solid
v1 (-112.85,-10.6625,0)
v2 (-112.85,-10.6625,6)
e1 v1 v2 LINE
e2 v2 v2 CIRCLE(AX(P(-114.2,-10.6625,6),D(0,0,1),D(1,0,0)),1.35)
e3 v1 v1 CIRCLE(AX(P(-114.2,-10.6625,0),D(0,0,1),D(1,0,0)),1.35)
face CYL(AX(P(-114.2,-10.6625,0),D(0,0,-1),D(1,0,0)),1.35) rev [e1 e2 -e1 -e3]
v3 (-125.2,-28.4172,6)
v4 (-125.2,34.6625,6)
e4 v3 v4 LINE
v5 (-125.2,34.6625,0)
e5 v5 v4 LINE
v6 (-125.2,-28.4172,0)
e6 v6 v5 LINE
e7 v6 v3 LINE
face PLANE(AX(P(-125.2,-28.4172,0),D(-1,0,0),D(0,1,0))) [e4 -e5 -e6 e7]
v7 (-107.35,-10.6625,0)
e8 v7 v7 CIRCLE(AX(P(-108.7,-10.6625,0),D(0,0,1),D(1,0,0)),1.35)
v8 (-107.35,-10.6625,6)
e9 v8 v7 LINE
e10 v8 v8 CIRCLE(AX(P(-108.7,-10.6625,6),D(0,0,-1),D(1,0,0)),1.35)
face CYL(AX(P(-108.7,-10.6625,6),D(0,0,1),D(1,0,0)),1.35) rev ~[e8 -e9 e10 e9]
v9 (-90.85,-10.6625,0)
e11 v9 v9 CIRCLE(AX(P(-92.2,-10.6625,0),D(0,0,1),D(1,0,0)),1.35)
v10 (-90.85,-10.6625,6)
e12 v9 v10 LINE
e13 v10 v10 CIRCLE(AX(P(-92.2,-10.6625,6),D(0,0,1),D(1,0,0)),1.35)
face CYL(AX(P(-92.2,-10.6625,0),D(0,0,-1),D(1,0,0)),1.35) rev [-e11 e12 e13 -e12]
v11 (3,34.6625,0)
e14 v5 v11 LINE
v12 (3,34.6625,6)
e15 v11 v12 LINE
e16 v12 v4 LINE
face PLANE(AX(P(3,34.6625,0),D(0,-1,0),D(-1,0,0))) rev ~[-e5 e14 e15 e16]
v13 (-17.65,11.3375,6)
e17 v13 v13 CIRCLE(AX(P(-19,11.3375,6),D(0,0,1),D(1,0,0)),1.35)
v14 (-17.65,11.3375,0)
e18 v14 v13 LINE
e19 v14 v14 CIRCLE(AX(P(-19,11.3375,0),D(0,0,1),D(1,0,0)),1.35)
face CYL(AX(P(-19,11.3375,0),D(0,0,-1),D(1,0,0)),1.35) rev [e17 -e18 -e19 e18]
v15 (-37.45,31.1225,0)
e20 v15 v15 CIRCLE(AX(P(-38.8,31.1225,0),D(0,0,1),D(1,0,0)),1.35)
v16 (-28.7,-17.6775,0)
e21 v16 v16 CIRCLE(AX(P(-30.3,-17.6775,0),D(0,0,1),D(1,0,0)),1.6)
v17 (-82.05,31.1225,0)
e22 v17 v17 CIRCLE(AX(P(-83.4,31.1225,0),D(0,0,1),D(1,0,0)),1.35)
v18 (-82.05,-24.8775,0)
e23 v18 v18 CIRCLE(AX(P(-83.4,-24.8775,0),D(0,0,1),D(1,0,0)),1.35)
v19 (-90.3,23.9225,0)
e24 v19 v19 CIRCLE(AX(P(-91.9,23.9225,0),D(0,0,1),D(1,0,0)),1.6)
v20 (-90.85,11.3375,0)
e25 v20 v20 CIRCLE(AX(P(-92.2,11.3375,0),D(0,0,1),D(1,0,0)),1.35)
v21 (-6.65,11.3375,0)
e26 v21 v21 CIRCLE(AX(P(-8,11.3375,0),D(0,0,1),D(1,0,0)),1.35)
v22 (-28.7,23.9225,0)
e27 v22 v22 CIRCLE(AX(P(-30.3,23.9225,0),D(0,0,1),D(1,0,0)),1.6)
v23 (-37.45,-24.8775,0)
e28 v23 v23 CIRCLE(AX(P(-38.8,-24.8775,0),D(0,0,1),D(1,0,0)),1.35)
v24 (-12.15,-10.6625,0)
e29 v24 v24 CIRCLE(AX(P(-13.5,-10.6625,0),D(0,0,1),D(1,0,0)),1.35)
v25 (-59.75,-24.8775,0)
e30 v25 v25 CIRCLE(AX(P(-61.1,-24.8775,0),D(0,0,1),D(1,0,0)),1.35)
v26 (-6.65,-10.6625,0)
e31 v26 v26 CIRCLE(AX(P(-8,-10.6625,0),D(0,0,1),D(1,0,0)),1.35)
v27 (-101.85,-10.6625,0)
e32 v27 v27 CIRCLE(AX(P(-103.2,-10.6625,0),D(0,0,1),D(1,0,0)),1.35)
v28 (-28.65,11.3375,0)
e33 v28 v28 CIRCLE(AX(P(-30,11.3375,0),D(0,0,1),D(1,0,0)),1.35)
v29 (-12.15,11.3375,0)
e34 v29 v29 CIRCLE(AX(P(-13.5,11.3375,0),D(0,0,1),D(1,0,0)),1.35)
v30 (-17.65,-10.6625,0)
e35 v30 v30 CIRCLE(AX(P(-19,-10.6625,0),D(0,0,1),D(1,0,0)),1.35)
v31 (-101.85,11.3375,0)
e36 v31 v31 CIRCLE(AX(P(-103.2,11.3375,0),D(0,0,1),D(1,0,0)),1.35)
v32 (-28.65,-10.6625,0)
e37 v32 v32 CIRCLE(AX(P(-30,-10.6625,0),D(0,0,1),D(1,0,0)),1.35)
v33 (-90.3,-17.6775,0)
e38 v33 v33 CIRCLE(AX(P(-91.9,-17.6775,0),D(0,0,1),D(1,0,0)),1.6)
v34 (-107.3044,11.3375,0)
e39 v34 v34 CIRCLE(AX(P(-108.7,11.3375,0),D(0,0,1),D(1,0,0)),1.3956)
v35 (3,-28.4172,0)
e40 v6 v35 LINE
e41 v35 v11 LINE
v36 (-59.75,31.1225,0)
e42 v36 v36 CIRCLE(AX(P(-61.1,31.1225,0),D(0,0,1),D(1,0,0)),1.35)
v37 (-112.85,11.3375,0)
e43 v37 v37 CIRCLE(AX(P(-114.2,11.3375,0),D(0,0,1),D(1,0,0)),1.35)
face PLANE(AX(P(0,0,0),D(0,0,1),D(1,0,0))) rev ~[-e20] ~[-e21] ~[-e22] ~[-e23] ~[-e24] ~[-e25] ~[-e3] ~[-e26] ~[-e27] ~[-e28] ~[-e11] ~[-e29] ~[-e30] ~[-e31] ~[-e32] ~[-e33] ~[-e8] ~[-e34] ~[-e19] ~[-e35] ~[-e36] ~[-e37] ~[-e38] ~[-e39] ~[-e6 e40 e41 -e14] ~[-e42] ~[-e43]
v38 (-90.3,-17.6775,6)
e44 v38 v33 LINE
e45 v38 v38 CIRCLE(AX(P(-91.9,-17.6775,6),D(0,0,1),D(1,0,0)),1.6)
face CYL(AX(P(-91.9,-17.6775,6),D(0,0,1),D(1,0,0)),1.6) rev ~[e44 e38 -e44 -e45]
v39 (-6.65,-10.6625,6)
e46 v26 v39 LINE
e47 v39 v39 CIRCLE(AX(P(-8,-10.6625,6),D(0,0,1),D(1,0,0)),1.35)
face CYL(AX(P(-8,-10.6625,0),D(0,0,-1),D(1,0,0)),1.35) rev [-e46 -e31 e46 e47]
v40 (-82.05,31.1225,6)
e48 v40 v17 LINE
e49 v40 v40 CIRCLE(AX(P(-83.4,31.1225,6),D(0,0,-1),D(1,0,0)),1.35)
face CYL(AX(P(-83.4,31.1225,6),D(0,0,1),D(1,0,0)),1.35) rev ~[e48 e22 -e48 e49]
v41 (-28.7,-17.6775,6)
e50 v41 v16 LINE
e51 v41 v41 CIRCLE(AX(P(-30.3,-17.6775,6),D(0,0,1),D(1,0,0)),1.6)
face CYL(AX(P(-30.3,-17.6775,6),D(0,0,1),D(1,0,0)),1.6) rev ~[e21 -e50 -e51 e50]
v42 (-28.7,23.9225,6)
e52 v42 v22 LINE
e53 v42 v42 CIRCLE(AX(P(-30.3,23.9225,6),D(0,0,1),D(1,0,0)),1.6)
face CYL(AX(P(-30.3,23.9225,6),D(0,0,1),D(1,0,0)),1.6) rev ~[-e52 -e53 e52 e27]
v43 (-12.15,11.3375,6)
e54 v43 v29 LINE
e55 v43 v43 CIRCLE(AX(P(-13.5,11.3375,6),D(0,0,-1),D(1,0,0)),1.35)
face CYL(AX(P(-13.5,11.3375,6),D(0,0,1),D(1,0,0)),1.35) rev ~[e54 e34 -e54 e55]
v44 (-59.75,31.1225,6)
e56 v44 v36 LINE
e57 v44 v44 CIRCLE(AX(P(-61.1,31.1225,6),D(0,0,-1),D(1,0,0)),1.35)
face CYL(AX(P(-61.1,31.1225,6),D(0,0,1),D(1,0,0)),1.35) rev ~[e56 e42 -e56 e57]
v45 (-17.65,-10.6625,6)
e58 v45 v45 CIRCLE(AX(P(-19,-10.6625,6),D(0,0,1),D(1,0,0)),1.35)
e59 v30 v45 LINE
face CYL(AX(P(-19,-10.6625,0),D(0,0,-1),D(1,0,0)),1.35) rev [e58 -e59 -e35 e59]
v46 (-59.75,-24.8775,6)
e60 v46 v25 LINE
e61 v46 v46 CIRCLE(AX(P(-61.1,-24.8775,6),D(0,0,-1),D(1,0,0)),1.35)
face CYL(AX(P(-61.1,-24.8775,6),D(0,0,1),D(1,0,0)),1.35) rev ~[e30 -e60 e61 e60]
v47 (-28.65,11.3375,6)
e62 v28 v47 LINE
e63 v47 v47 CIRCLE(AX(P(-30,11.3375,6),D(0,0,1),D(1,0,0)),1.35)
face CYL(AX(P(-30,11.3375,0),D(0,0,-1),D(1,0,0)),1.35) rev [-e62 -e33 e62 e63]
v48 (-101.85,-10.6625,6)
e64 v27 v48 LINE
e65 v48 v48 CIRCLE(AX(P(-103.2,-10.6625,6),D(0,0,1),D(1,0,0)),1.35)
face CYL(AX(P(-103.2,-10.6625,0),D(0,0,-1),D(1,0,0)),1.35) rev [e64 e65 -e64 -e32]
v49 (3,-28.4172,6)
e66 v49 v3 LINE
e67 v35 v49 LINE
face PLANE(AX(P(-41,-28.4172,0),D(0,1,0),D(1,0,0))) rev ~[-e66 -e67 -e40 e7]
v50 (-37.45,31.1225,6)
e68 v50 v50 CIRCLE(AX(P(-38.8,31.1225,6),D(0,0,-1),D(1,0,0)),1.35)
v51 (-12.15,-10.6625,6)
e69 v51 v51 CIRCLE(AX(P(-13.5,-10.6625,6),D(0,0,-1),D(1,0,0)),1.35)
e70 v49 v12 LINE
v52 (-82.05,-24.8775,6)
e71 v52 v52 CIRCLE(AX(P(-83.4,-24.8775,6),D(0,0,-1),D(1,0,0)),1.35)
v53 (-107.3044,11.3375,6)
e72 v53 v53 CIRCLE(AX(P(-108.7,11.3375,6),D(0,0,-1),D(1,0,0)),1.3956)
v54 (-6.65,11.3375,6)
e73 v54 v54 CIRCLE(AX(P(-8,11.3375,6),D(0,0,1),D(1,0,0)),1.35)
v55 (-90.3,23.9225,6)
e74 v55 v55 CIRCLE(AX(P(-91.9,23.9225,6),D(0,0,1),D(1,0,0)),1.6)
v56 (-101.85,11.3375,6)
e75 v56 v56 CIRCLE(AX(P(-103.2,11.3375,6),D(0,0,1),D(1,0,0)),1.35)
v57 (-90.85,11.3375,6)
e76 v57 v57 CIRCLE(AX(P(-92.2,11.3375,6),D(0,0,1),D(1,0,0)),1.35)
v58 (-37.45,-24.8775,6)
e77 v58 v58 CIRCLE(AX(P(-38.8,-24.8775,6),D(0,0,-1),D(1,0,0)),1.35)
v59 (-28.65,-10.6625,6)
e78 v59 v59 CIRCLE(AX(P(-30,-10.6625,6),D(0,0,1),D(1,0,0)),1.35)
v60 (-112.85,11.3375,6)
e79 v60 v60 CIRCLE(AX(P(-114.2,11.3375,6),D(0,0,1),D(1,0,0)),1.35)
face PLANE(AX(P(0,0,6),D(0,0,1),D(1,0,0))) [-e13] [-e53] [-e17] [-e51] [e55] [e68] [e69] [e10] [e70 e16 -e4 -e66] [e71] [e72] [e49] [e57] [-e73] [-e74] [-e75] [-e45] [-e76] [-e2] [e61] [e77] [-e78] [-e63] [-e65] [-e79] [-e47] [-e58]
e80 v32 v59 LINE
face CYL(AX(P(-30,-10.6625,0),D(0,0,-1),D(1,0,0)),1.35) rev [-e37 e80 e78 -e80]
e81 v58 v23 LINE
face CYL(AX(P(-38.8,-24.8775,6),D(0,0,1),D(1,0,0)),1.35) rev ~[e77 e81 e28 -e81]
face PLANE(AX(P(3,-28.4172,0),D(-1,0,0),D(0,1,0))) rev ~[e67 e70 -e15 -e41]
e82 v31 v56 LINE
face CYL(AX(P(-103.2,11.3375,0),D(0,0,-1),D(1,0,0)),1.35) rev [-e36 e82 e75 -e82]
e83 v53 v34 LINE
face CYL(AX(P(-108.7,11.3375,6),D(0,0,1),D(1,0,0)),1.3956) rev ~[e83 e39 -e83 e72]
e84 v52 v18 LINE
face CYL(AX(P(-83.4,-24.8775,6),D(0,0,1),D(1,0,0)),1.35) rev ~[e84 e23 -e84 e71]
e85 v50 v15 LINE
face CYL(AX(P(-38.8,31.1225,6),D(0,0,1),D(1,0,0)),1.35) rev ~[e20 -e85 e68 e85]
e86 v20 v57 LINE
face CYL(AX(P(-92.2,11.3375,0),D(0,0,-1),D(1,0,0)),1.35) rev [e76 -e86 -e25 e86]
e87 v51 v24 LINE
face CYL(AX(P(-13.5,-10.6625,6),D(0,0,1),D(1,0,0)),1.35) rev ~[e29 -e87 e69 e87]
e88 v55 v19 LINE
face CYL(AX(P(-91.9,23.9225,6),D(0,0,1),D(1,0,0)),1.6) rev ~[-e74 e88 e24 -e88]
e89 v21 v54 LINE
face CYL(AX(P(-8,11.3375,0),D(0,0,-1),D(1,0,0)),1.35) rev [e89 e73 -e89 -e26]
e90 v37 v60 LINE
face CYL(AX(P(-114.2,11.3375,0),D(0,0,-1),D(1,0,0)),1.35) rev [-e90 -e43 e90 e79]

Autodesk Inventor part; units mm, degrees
ref_plane "YZ Plane" through (0, 0, 0) normal (1, 0, 0) x (0, 1, 0)
ref_plane "XZ Plane" through (0, 0, 0) normal (0, 1, 0) x (-1, 0, 0)
ref_plane "XY Plane" through (0, 0, 0) normal (0, 0, 1) x (1, 0, 0)
ref_plane "작업 평면2" through (0, 0, 0) normal (0, 0, 1) x (1, 0, 0)
sketch "스케치1" plane through (0, 0, 0) normal (0, 0, 1) x (1, 0, 0)
  circle A0 centre (-30, -10.6625) radius 1.35 projected
  circle A1 centre (-8, 11.3375) radius 1.35 projected
  circle A2 centre (-19, -10.6625) radius 1.35 projected
  circle A3 centre (-30, 11.3375) radius 1.35 projected
  circle A4 centre (-19, 11.3375) radius 1.35 projected
  circle A5 centre (-8, -10.6625) radius 1.35 projected
  line L0 (3, -32.6625) -> (3, 34.6625) projected
  line L1 (3, 34.6625) -> (-41, 34.6625) projected
  line L2 (-41, -32.6625) -> (-41, 34.6625) projected
  line L3 (3, -32.6625) -> (-41, -32.6625) projected
  circle A6 centre (-92.2, -10.6625) radius 1.35 projected
  circle A7 centre (-114.2, 11.3375) radius 1.35 projected
  circle A8 centre (-103.2, -10.6625) radius 1.35 projected
  circle A9 centre (-92.2, 11.3375) radius 1.35 projected
  circle A10 centre (-103.2, 11.3375) radius 1.35 projected
  circle A11 centre (-114.2, -10.6625) radius 1.35 projected
  line L4 (-125.2, -32.6625) -> (-125.2, 34.6625) projected
  line L5 (-125.2, -32.6625) -> (-81.2, -32.6625) projected
  line L6 (-81.2, -32.6625) -> (-81.2, 34.6625) projected
  line L7 (-125.2, 34.6625) -> (-81.2, 34.6625) projected
  line L8 (3, -28.4172) -> (3, 34.6625)
  line L9 (3, 34.6625) -> (-125.2, 34.6625)
  line L10 (-125.2, 34.6625) -> (-125.2, -28.4172)
  line L11 (-125.2, -28.4172) -> (3, -28.4172)
  point P0 (0, 0)
  point P1 (-41, 34.6625)
  point P2 (-125.2, -28.4172)
extrude "돌출1" add sketch "스케치1" along normal blind 6 contours L11 L2 L1 L0 | L11 L6 L9 L2 | L11 L4 L7 L6
sketch "스케치2" plane through (0, 0, 6) normal (0, 0, 1) x (1, 0, 0)
  circle A0 centre (-91.9, 23.9225) radius 1.6 projected
  circle A1 centre (-30.3, 23.9225) radius 1.6 projected
  circle A2 centre (-91.9, -17.6775) radius 1.6 projected
  circle A3 centre (-30.3, -17.6775) radius 1.6 projected
  line L0 (-26.1, 28.1225) -> (-96.1, 28.1225) projected
  line L1 (-96.1, 28.1225) -> (-96.1, -21.8775) projected
  line L2 (-96.1, -21.8775) -> (-26.1, -21.8775) projected
  line L3 (-26.1, -21.8775) -> (-26.1, 28.1225) projected
  line L4 (-76.5416, 6.5834) -> (-75.7309, 6.5834) projected
  line L5 (-75.7309, 6.5834) -> (-75.7309, 1.2051) projected
  line L6 (-75.7309, 1.2051) -> (-73.6844, 1.2051) projected
  line L7 (-73.6844, 1.2051) -> (-73.6844, 0.4834) projected
  line L8 (-73.6844, 0.4834) -> (-78.5882, 0.4834) projected
  line L9 (-78.5882, 0.4834) -> (-78.5882, 1.2051) projected
  line L10 (-78.5882, 1.2051) -> (-76.5416, 1.2051) projected
  line L11 (-76.5416, 1.2051) -> (-76.5416, 6.5834) projected
  spline S0 degree 2 poles (-69.4332, 6.1484) (-69.1416, 6.4351) (-68.3704, 6.7119) (-67.8069, 6.7119) knots 0 0 0 1 2 2 2 projected
  spline S1 degree 2 poles (-67.8069, 6.7119) (-67.2681, 6.7119) (-66.4672, 6.4302) (-66.1855, 6.1484) knots 0 0 0 1 2 2 2 projected
  spline S2 degree 2 poles (-66.1855, 6.1484) (-65.8642, 5.832) (-65.6022, 4.9422) (-65.6022, 4.2897) knots 0 0 0 1 2 2 2 projected
  line L12 (-65.6022, 4.2897) -> (-65.6022, 0.4834) projected
  line L13 (-65.6022, 0.4834) -> (-66.4129, 0.4834) projected
  line L14 (-66.4129, 0.4834) -> (-66.4129, 4.2897) projected
  spline S3 degree 2 poles (-66.4129, 4.2897) (-66.4129, 4.7149) (-66.5216, 5.2883) (-66.6749, 5.5206) knots 0 0 0 1 2 2 2 projected
  spline S4 degree 2 poles (-66.6749, 5.5206) (-66.838, 5.7678) (-67.4015, 6.0199) (-67.8069, 6.0199) knots 0 0 0 1 2 2 2 projected
  spline S5 degree 2 poles (-67.8069, 6.0199) (-68.1875, 6.0199) (-68.7807, 5.7678) (-68.9438, 5.5206) knots 0 0 0 1 2 2 2 projected
  spline S6 degree 2 poles (-68.9438, 5.5206) (-69.0971, 5.2883) (-69.2058, 4.7198) (-69.2058, 4.3095) knots 0 0 0 1 2 2 2 projected
  line L15 (-69.2058, 4.3095) -> (-69.2058, 0.4834) projected
  line L16 (-69.2058, 0.4834) -> (-70.0165, 0.4834) projected
  line L17 (-70.0165, 0.4834) -> (-70.0165, 4.2897) projected
  spline S7 degree 2 poles (-70.0165, 4.2897) (-70.0165, 4.9274) (-69.7595, 5.837) (-69.4332, 6.1484) knots 0 0 0 1 2 2 2 projected
  line L18 (-54.4304, 5.9606) -> (-54.4304, 6.5834) projected
  line L19 (-54.4304, 6.5834) -> (-52.0675, 6.5834) projected
  line L20 (-52.0675, 6.5834) -> (-52.0675, 5.9606) projected
  line L21 (-52.0675, 5.9606) -> (-52.8436, 5.9606) projected
  line L22 (-52.8436, 5.9606) -> (-52.8436, 1.1063) projected
  line L23 (-52.8436, 1.1063) -> (-52.0675, 1.1063) projected
  line L24 (-52.0675, 1.1063) -> (-52.0675, 0.4834) projected
  line L25 (-52.0675, 0.4834) -> (-54.4304, 0.4834) projected
  line L26 (-54.4304, 0.4834) -> (-54.4304, 1.1063) projected
  line L27 (-54.4304, 1.1063) -> (-53.6543, 1.1063) projected
  line L28 (-53.6543, 1.1063) -> (-53.6543, 5.9606) projected
  line L29 (-53.6543, 5.9606) -> (-54.4304, 5.9606) projected
  spline S8 degree 2 poles (-50.7377, 6.5142) (-50.4708, 6.6032) (-50.016, 6.6922) (-49.6502, 6.6922) knots 0 0 0 1 2 2 2 projected
  spline S9 degree 2 poles (-49.6502, 6.6922) (-49.057, 6.6922) (-48.0536, 6.2918) (-47.6877, 5.8914) knots 0 0 0 1 2 2 2 projected
  spline S10 degree 2 poles (-47.6877, 5.8914) (-47.3219, 5.4959) (-46.9215, 4.3095) (-46.9215, 3.5384) knots 0 0 0 1 2 2 2 projected
  spline S11 degree 2 poles (-46.9215, 3.5384) (-46.9215, 2.7721) (-47.3121, 1.6352) (-47.6828, 1.215) knots 0 0 0 1 2 2 2 projected
  spline S12 degree 2 poles (-47.6828, 1.215) (-48.0486, 0.8047) (-49.0471, 0.3747) (-49.6651, 0.3747) knots 0 0 0 1 2 2 2 projected
  spline S13 degree 2 poles (-49.6651, 0.3747) (-49.9715, 0.3747) (-50.5104, 0.4636) (-50.7377, 0.5328) knots 0 0 0 1 2 2 2 projected
  spline S14 degree 2 poles (-50.7377, 0.5328) (-50.9355, 0.5971) (-51.3458, 0.78) (-51.5484, 0.8888) knots 0 0 0 1 2 2 2 projected
  line L30 (-51.5484, 0.8888) -> (-51.5484, 1.8675) projected
  line L31 (-51.5484, 1.8675) -> (-51.4842, 1.8675) projected
  spline S15 degree 2 poles (-51.4842, 1.8675) (-51.3754, 1.7687) (-51.0393, 1.4918) (-50.7971, 1.3584) knots 0 0 0 1 2 2 2 projected
  spline S16 degree 2 poles (-50.7971, 1.3584) (-50.5647, 1.2298) (-50.016, 1.0667) (-49.6601, 1.0667) knots 0 0 0 1 2 2 2 projected
  spline S17 degree 2 poles (-49.6601, 1.0667) (-49.2696, 1.0667) (-48.5726, 1.388) (-48.3106, 1.6945) knots 0 0 0 1 2 2 2 projected
  spline S18 degree 2 poles (-48.3106, 1.6945) (-48.0536, 2.0059) (-47.7668, 2.9501) (-47.7668, 3.5384) knots 0 0 0 1 2 2 2 projected
  spline S19 degree 2 poles (-47.7668, 3.5384) (-47.7668, 4.1662) (-48.0684, 5.0708) (-48.3304, 5.3822) knots 0 0 0 1 2 2 2 projected
  spline S20 degree 2 poles (-48.3304, 5.3822) (-48.5874, 5.6837) (-49.2745, 5.9902) (-49.6601, 5.9902) knots 0 0 0 1 2 2 2 projected
  spline S21 degree 2 poles (-49.6601, 5.9902) (-50.0111, 5.9902) (-50.6092, 5.8172) (-50.8416, 5.6887) knots 0 0 0 1 2 2 2 projected
  spline S22 degree 2 poles (-50.8416, 5.6887) (-51.064, 5.5602) (-51.3952, 5.2932) (-51.4891, 5.1993) knots 0 0 0 1 2 2 2 projected
  line L32 (-51.4891, 5.1993) -> (-51.5484, 5.1993) projected
  line L33 (-51.5484, 5.1993) -> (-51.5484, 6.1682) projected
  spline S23 degree 2 poles (-51.5484, 6.1682) (-51.3458, 6.2621) (-50.9899, 6.4351) (-50.7377, 6.5142) knots 0 0 0 1 2 2 2 projected
  line L34 (-57.9846, 3.9289) -> (-60.1547, 6.5834) projected
  line L35 (-60.1547, 6.5834) -> (-59.1018, 6.5834) projected
  line L36 (-59.1018, 6.5834) -> (-57.1739, 4.1563) projected
  line L37 (-57.1739, 4.1563) -> (-56.2446, 4.1563) projected
  line L38 (-56.2446, 4.1563) -> (-56.2446, 6.5834) projected
  line L39 (-56.2446, 6.5834) -> (-55.4339, 6.5834) projected
  line L40 (-55.4339, 6.5834) -> (-55.4339, 0.4834) projected
  line L41 (-55.4339, 0.4834) -> (-57.0058, 0.4834) projected
  spline S24 degree 2 poles (-57.0058, 0.4834) (-57.5298, 0.4834) (-58.2367, 0.5971) (-58.558, 0.8047) knots 0 0 0 1 2 2 2 projected
  spline S25 degree 2 poles (-58.558, 0.8047) (-58.8793, 1.0123) (-59.2501, 1.6599) (-59.2501, 2.1394) knots 0 0 0 1 2 2 2 projected
  spline S26 degree 2 poles (-59.2501, 2.1394) (-59.2501, 2.8068) (-58.5679, 3.7114) (-57.9846, 3.9289) knots 0 0 0 1 2 2 2 projected
  spline S27 degree 2 poles (-64.1093, 6.5142) (-63.8424, 6.6032) (-63.3876, 6.6922) (-63.0218, 6.6922) knots 0 0 0 1 2 2 2 projected
  spline S28 degree 2 poles (-63.0218, 6.6922) (-62.4286, 6.6922) (-61.4251, 6.2918) (-61.0593, 5.8914) knots 0 0 0 1 2 2 2 projected
  spline S29 degree 2 poles (-61.0593, 5.8914) (-60.6935, 5.4959) (-60.2931, 4.3095) (-60.2931, 3.5384) knots 0 0 0 1 2 2 2 projected
  spline S30 degree 2 poles (-60.2931, 3.5384) (-60.2931, 2.7721) (-60.6836, 1.6352) (-61.0544, 1.215) knots 0 0 0 1 2 2 2 projected
  spline S31 degree 2 poles (-61.0544, 1.215) (-61.4202, 0.8047) (-62.4187, 0.3747) (-63.0366, 0.3747) knots 0 0 0 1 2 2 2 projected
  spline S32 degree 2 poles (-63.0366, 0.3747) (-63.3431, 0.3747) (-63.8819, 0.4636) (-64.1093, 0.5328) knots 0 0 0 1 2 2 2 projected
  spline S33 degree 2 poles (-64.1093, 0.5328) (-64.307, 0.5971) (-64.7173, 0.78) (-64.92, 0.8888) knots 0 0 0 1 2 2 2 projected
  line L42 (-64.92, 0.8888) -> (-64.92, 1.8675) projected
  line L43 (-64.92, 1.8675) -> (-64.8557, 1.8675) projected
  spline S34 degree 2 poles (-64.8557, 1.8675) (-64.747, 1.7687) (-64.4108, 1.4918) (-64.1686, 1.3584) knots 0 0 0 1 2 2 2 projected
  spline S35 degree 2 poles (-64.1686, 1.3584) (-63.9363, 1.2298) (-63.3876, 1.0667) (-63.0317, 1.0667) knots 0 0 0 1 2 2 2 projected
  spline S36 degree 2 poles (-63.0317, 1.0667) (-62.6412, 1.0667) (-61.9442, 1.388) (-61.6822, 1.6945) knots 0 0 0 1 2 2 2 projected
  spline S37 degree 2 poles (-61.6822, 1.6945) (-61.4251, 2.0059) (-61.1384, 2.9501) (-61.1384, 3.5384) knots 0 0 0 1 2 2 2 projected
  spline S38 degree 2 poles (-61.1384, 3.5384) (-61.1384, 4.1662) (-61.4399, 5.0708) (-61.7019, 5.3822) knots 0 0 0 1 2 2 2 projected
  spline S39 degree 2 poles (-61.7019, 5.3822) (-61.959, 5.6837) (-62.6461, 5.9902) (-63.0317, 5.9902) knots 0 0 0 1 2 2 2 projected
  spline S40 degree 2 poles (-63.0317, 5.9902) (-63.3826, 5.9902) (-63.9808, 5.8172) (-64.2131, 5.6887) knots 0 0 0 1 2 2 2 projected
  spline S41 degree 2 poles (-64.2131, 5.6887) (-64.4356, 5.5602) (-64.7668, 5.2932) (-64.8607, 5.1993) knots 0 0 0 1 2 2 2 projected
  line L44 (-64.8607, 5.1993) -> (-64.92, 5.1993) projected
  line L45 (-64.92, 5.1993) -> (-64.92, 6.1682) projected
  spline S42 degree 2 poles (-64.92, 6.1682) (-64.7173, 6.2621) (-64.3614, 6.4351) (-64.1093, 6.5142) knots 0 0 0 1 2 2 2 projected
  line L46 (-73.3038, 5.9606) -> (-73.3038, 6.5834) projected
  line L47 (-73.3038, 6.5834) -> (-70.9409, 6.5834) projected
  line L48 (-70.9409, 6.5834) -> (-70.9409, 5.9606) projected
  line L49 (-70.9409, 5.9606) -> (-71.717, 5.9606) projected
  line L50 (-71.717, 5.9606) -> (-71.717, 1.1063) projected
  line L51 (-71.717, 1.1063) -> (-70.9409, 1.1063) projected
  line L52 (-70.9409, 1.1063) -> (-70.9409, 0.4834) projected
  line L53 (-70.9409, 0.4834) -> (-73.3038, 0.4834) projected
  line L54 (-73.3038, 0.4834) -> (-73.3038, 1.1063) projected
  line L55 (-73.3038, 1.1063) -> (-72.5277, 1.1063) projected
  line L56 (-72.5277, 1.1063) -> (-72.5277, 5.9606) projected
  line L57 (-72.5277, 5.9606) -> (-73.3038, 5.9606) projected
  line L58 (-96.1, 28.1225) -> (-26.1, -21.8775)
  line L59 (-96.1, -21.8775) -> (-26.1, 28.1225)
  line L60 (-20.1, -27.8775) -> (-102.1, -27.8775)
  line L61 (-102.1, -21.996) -> (-102.1, 28.2411)
  line L62 (-102.1, 34.1225) -> (-20.1, 34.1225)
  line L63 (-20.1, 28.2411) -> (-20.1, -21.996)
  line L64 (-20.1, -27.8775) -> (-102.1, 34.1225) construction
  line L65 (-102.1, -27.8775) -> (-20.1, 34.1225) construction
  circle A4 centre (-114.2, 11.3375) radius 1.35 projected
  circle A5 centre (-103.2, 11.3375) radius 1.35 projected
  line L66 (-114.2, 11.3375) -> (-103.2, 11.3375)
  line L67 (-103.2, 11.3375) -> (-108.7, 11.3375)
  line L68 (-108.7, 11.3375) -> (-105.7, 11.3375)
  line L69 (-108.7, 11.3375) -> (-111.7, 11.3375)
  line L70 (-111.7, 11.3375) -> (-105.7, 11.3375)
  line L71 (-105.7, -28.4172) -> (-111.7, -28.4172)
  line L72 (-111.7, -27.8775) -> (-111.7, 11.3375)
  line L73 (-111.7, 11.3375) -> (-105.7, 11.3375)
  line L74 (-105.7, 34.6625) -> (-111.7, 34.6625)
  line L75 (-111.7, 34.1225) -> (-111.7, 11.3375)
  line L76 (-102.1, 34.1225) -> (-111.7, 34.1225)
  line L77 (-102.1, -27.8775) -> (-111.7, -27.8775)
  line L78 (-10.5, -27.8775) -> (-111.7, -27.8775)
  line L79 (-111.7, -27.8775) -> (-111.7, 34.1225)
  line L80 (-111.7, 34.1225) -> (-10.5, 34.1225)
  line L81 (-10.5, 34.1225) -> (-10.5, -27.8775)
  line L82 (-10.5, -27.8775) -> (-111.7, 34.1225) construction
  line L83 (-102.1, -21.996) -> (-10.5, 34.1225) construction
  line L84 (-16.5, -21.8775) -> (-105.7, -21.8775)
  line L85 (-105.7, -21.8775) -> (-105.7, 28.1225)
  line L86 (-105.7, 28.1225) -> (-16.5, 28.1225)
  line L87 (-16.5, 28.1225) -> (-16.5, -21.8775)
  line L88 (-16.5, -21.8775) -> (-105.7, 28.1225) construction
  line L89 (-105.7, -21.8775) -> (-16.5, 28.1225) construction
  line L90 (-105.7, 11.3375) -> (-105.7, 28.1225)
  line L91 (-105.7, 11.3375) -> (-105.7, -21.8775)
  line L92 (-105.7, -21.8775) -> (-105.7, -27.8775)
  line L93 (-16.5, -21.8775) -> (-16.5, -27.8775)
  line L94 (-16.5, 28.1225) -> (-16.5, 34.1225)
  line L95 (-105.7, 28.1225) -> (-105.7, 34.1225)
  line L96 (3, -28.4172) -> (3, 34.6625) projected
  line L97 (3, 34.6625) -> (-125.2, 34.6625) projected
  line L98 (-125.2, 34.6625) -> (-125.2, -28.4172) projected
  line L99 (-125.2, -28.4172) -> (3, -28.4172) projected
  circle A6 centre (-114.2, -10.6625) radius 1.35 projected
  circle A7 centre (-92.2, 11.3375) radius 1.35 projected
  circle A8 centre (-114.2, 11.3375) radius 1.35 projected
  circle A9 centre (-92.2, -10.6625) radius 1.35 projected
  circle A10 centre (-103.2, -10.6625) radius 1.35 projected
  circle A11 centre (-103.2, 11.3375) radius 1.35 projected
  circle A12 centre (-30, -10.6625) radius 1.35 projected
  circle A13 centre (-8, 11.3375) radius 1.35 projected
  circle A14 centre (-19, -10.6625) radius 1.35 projected
  circle A15 centre (-30, 11.3375) radius 1.35 projected
  circle A16 centre (-19, 11.3375) radius 1.35 projected
  circle A17 centre (-8, -10.6625) radius 1.35 projected
  line L100 (-114.2, 11.3375) -> (-103.2, 11.3375)
  line L101 (-103.2, 11.3375) -> (-103.2, -10.6625)
  line L102 (-103.2, -10.6625) -> (-114.2, -10.6625)
  line L103 (-114.2, -10.6625) -> (-114.2, 11.3375)
  line L104 (-108.7, 11.3375) -> (-108.7, -10.6625)
  circle A18 centre (-108.7, -10.6625) radius 1.35
  circle A19 centre (-108.7, 11.3375) radius 1.3956
  line L105 (-8, 11.3375) -> (-19, 11.3375)
  line L106 (-19, 11.3375) -> (-19, -10.6625)
  line L107 (-19, -10.6625) -> (-8, -10.6625)
  line L108 (-8, -10.6625) -> (-8, 11.3375)
  line L109 (-13.5, 11.3375) -> (-13.5, -10.6625)
  circle A20 centre (-13.5, 11.3375) radius 1.35
  circle A21 centre (-13.5, -10.6625) radius 1.35
  line L110 (-16.5, 34.1225) -> (-38.8, 34.1225)
  line L111 (-16.5, 34.1225) -> (5.8, 34.1225) construction
  line L112 (-38.8, 34.1225) -> (-61.1, 34.1225)
  line L113 (-61.1, 34.1225) -> (-83.4, 34.1225)
  line L114 (-83.4, 34.1225) -> (-83.4, 28.1225)
  line L115 (-61.1, 34.1225) -> (-61.1, 28.1225)
  line L116 (-38.8, 34.1225) -> (-38.8, 28.1225)
  line L117 (-83.4, 31.1225) -> (-38.8, 31.1225)
  circle A22 centre (-83.4, 31.1225) radius 1.35
  circle A23 centre (-61.1, 31.1225) radius 1.35
  circle A24 centre (-38.8, 31.1225) radius 1.35
  line L118 (-83.4, 31.1225) -> (-83.4, -27.8775)
  line L119 (-61.1, 31.1225) -> (-61.1, -27.8775)
  line L120 (-38.8, 31.1225) -> (-38.8, -27.8775)
  line L121 (-83.4, -27.8775) -> (-83.4, -24.8775)
  line L122 (-83.4, -24.8775) -> (-33.4, -24.8775)
  circle A25 centre (-83.4, -24.8775) radius 1.35
  circle A26 centre (-61.1, -24.8775) radius 1.35
  circle A27 centre (-38.8, -24.8775) radius 1.35
  point P0 (0, 0)
  point P1 (-61.1, 3.1225)
  dimension "d2" = 82
  dimension "d3" = 62
  dimension "d4" = 3
  dimension "d5" = 3
  dimension "d6" = 2.7
  dimension "d7" = 2.7
  dimension "d8" = 2.7
  dimension "d9" = 22.3
  dimension "d10" = 180
  dimension "d11" = 22.3
  dimension "d12" = 22.3
  dimension "d13" = 180
  dimension "d14" = 2.7
  dimension "d15" = 2.7
  dimension "d16" = 2.7
  dimension "d17" = 3
  dimension "d18" = 50
  dimension "d19" = 90
  dimension "d20" = 2.7
  dimension "d21" = 2.7
  dimension "d22" = 2.7
extrude "돌출2" cut sketch "스케치2" against normal up to surface (6 mm away) contours A22 L114 | L114 L117 A22 | A23 L117 L115 | L115 L117 A23 | L114 A22 L117 | A25 L122 L118 | L118 A25 | A24 L117 L116 | L116 A24 | L117 A23 L115 | L115 A23 L117 | A26 L122 L119 | L119 L122 A26 | L122 A25 L118 | A19 L104 L66 | L66 A19 | L117 A24 L116 | A27 L122 L120 | L120 L122 A27 | L122 A26 L119 | L119 A26 L122 | A18 L102 | L102 L104 A18 | L104 A19 L66 | L122 A27 L120 | L120 A27 L122 | L102 A18 L104 | A20 L105 | L105 L109 A20 | A21 L109 L107 | L107 A21 | L105 A20 L109 | L109 A21 L107
sketch "스케치3" plane through (0, 0, 6) normal (0, 0, 1) x (1, 0, 0)
  circle A0 centre (-91.9, 23.9225) radius 1.6 projected
  circle A1 centre (-91.9, -17.6775) radius 1.6 projected
  circle A2 centre (-30.3, 23.9225) radius 1.6 projected
  circle A3 centre (-30.3, -17.6775) radius 1.6 projected
  point P0 (0, 0)
extrude "돌출3" cut sketch "스케치3" against normal blind 6
properties part number "_body_3" material "PMMA 플라스틱"
